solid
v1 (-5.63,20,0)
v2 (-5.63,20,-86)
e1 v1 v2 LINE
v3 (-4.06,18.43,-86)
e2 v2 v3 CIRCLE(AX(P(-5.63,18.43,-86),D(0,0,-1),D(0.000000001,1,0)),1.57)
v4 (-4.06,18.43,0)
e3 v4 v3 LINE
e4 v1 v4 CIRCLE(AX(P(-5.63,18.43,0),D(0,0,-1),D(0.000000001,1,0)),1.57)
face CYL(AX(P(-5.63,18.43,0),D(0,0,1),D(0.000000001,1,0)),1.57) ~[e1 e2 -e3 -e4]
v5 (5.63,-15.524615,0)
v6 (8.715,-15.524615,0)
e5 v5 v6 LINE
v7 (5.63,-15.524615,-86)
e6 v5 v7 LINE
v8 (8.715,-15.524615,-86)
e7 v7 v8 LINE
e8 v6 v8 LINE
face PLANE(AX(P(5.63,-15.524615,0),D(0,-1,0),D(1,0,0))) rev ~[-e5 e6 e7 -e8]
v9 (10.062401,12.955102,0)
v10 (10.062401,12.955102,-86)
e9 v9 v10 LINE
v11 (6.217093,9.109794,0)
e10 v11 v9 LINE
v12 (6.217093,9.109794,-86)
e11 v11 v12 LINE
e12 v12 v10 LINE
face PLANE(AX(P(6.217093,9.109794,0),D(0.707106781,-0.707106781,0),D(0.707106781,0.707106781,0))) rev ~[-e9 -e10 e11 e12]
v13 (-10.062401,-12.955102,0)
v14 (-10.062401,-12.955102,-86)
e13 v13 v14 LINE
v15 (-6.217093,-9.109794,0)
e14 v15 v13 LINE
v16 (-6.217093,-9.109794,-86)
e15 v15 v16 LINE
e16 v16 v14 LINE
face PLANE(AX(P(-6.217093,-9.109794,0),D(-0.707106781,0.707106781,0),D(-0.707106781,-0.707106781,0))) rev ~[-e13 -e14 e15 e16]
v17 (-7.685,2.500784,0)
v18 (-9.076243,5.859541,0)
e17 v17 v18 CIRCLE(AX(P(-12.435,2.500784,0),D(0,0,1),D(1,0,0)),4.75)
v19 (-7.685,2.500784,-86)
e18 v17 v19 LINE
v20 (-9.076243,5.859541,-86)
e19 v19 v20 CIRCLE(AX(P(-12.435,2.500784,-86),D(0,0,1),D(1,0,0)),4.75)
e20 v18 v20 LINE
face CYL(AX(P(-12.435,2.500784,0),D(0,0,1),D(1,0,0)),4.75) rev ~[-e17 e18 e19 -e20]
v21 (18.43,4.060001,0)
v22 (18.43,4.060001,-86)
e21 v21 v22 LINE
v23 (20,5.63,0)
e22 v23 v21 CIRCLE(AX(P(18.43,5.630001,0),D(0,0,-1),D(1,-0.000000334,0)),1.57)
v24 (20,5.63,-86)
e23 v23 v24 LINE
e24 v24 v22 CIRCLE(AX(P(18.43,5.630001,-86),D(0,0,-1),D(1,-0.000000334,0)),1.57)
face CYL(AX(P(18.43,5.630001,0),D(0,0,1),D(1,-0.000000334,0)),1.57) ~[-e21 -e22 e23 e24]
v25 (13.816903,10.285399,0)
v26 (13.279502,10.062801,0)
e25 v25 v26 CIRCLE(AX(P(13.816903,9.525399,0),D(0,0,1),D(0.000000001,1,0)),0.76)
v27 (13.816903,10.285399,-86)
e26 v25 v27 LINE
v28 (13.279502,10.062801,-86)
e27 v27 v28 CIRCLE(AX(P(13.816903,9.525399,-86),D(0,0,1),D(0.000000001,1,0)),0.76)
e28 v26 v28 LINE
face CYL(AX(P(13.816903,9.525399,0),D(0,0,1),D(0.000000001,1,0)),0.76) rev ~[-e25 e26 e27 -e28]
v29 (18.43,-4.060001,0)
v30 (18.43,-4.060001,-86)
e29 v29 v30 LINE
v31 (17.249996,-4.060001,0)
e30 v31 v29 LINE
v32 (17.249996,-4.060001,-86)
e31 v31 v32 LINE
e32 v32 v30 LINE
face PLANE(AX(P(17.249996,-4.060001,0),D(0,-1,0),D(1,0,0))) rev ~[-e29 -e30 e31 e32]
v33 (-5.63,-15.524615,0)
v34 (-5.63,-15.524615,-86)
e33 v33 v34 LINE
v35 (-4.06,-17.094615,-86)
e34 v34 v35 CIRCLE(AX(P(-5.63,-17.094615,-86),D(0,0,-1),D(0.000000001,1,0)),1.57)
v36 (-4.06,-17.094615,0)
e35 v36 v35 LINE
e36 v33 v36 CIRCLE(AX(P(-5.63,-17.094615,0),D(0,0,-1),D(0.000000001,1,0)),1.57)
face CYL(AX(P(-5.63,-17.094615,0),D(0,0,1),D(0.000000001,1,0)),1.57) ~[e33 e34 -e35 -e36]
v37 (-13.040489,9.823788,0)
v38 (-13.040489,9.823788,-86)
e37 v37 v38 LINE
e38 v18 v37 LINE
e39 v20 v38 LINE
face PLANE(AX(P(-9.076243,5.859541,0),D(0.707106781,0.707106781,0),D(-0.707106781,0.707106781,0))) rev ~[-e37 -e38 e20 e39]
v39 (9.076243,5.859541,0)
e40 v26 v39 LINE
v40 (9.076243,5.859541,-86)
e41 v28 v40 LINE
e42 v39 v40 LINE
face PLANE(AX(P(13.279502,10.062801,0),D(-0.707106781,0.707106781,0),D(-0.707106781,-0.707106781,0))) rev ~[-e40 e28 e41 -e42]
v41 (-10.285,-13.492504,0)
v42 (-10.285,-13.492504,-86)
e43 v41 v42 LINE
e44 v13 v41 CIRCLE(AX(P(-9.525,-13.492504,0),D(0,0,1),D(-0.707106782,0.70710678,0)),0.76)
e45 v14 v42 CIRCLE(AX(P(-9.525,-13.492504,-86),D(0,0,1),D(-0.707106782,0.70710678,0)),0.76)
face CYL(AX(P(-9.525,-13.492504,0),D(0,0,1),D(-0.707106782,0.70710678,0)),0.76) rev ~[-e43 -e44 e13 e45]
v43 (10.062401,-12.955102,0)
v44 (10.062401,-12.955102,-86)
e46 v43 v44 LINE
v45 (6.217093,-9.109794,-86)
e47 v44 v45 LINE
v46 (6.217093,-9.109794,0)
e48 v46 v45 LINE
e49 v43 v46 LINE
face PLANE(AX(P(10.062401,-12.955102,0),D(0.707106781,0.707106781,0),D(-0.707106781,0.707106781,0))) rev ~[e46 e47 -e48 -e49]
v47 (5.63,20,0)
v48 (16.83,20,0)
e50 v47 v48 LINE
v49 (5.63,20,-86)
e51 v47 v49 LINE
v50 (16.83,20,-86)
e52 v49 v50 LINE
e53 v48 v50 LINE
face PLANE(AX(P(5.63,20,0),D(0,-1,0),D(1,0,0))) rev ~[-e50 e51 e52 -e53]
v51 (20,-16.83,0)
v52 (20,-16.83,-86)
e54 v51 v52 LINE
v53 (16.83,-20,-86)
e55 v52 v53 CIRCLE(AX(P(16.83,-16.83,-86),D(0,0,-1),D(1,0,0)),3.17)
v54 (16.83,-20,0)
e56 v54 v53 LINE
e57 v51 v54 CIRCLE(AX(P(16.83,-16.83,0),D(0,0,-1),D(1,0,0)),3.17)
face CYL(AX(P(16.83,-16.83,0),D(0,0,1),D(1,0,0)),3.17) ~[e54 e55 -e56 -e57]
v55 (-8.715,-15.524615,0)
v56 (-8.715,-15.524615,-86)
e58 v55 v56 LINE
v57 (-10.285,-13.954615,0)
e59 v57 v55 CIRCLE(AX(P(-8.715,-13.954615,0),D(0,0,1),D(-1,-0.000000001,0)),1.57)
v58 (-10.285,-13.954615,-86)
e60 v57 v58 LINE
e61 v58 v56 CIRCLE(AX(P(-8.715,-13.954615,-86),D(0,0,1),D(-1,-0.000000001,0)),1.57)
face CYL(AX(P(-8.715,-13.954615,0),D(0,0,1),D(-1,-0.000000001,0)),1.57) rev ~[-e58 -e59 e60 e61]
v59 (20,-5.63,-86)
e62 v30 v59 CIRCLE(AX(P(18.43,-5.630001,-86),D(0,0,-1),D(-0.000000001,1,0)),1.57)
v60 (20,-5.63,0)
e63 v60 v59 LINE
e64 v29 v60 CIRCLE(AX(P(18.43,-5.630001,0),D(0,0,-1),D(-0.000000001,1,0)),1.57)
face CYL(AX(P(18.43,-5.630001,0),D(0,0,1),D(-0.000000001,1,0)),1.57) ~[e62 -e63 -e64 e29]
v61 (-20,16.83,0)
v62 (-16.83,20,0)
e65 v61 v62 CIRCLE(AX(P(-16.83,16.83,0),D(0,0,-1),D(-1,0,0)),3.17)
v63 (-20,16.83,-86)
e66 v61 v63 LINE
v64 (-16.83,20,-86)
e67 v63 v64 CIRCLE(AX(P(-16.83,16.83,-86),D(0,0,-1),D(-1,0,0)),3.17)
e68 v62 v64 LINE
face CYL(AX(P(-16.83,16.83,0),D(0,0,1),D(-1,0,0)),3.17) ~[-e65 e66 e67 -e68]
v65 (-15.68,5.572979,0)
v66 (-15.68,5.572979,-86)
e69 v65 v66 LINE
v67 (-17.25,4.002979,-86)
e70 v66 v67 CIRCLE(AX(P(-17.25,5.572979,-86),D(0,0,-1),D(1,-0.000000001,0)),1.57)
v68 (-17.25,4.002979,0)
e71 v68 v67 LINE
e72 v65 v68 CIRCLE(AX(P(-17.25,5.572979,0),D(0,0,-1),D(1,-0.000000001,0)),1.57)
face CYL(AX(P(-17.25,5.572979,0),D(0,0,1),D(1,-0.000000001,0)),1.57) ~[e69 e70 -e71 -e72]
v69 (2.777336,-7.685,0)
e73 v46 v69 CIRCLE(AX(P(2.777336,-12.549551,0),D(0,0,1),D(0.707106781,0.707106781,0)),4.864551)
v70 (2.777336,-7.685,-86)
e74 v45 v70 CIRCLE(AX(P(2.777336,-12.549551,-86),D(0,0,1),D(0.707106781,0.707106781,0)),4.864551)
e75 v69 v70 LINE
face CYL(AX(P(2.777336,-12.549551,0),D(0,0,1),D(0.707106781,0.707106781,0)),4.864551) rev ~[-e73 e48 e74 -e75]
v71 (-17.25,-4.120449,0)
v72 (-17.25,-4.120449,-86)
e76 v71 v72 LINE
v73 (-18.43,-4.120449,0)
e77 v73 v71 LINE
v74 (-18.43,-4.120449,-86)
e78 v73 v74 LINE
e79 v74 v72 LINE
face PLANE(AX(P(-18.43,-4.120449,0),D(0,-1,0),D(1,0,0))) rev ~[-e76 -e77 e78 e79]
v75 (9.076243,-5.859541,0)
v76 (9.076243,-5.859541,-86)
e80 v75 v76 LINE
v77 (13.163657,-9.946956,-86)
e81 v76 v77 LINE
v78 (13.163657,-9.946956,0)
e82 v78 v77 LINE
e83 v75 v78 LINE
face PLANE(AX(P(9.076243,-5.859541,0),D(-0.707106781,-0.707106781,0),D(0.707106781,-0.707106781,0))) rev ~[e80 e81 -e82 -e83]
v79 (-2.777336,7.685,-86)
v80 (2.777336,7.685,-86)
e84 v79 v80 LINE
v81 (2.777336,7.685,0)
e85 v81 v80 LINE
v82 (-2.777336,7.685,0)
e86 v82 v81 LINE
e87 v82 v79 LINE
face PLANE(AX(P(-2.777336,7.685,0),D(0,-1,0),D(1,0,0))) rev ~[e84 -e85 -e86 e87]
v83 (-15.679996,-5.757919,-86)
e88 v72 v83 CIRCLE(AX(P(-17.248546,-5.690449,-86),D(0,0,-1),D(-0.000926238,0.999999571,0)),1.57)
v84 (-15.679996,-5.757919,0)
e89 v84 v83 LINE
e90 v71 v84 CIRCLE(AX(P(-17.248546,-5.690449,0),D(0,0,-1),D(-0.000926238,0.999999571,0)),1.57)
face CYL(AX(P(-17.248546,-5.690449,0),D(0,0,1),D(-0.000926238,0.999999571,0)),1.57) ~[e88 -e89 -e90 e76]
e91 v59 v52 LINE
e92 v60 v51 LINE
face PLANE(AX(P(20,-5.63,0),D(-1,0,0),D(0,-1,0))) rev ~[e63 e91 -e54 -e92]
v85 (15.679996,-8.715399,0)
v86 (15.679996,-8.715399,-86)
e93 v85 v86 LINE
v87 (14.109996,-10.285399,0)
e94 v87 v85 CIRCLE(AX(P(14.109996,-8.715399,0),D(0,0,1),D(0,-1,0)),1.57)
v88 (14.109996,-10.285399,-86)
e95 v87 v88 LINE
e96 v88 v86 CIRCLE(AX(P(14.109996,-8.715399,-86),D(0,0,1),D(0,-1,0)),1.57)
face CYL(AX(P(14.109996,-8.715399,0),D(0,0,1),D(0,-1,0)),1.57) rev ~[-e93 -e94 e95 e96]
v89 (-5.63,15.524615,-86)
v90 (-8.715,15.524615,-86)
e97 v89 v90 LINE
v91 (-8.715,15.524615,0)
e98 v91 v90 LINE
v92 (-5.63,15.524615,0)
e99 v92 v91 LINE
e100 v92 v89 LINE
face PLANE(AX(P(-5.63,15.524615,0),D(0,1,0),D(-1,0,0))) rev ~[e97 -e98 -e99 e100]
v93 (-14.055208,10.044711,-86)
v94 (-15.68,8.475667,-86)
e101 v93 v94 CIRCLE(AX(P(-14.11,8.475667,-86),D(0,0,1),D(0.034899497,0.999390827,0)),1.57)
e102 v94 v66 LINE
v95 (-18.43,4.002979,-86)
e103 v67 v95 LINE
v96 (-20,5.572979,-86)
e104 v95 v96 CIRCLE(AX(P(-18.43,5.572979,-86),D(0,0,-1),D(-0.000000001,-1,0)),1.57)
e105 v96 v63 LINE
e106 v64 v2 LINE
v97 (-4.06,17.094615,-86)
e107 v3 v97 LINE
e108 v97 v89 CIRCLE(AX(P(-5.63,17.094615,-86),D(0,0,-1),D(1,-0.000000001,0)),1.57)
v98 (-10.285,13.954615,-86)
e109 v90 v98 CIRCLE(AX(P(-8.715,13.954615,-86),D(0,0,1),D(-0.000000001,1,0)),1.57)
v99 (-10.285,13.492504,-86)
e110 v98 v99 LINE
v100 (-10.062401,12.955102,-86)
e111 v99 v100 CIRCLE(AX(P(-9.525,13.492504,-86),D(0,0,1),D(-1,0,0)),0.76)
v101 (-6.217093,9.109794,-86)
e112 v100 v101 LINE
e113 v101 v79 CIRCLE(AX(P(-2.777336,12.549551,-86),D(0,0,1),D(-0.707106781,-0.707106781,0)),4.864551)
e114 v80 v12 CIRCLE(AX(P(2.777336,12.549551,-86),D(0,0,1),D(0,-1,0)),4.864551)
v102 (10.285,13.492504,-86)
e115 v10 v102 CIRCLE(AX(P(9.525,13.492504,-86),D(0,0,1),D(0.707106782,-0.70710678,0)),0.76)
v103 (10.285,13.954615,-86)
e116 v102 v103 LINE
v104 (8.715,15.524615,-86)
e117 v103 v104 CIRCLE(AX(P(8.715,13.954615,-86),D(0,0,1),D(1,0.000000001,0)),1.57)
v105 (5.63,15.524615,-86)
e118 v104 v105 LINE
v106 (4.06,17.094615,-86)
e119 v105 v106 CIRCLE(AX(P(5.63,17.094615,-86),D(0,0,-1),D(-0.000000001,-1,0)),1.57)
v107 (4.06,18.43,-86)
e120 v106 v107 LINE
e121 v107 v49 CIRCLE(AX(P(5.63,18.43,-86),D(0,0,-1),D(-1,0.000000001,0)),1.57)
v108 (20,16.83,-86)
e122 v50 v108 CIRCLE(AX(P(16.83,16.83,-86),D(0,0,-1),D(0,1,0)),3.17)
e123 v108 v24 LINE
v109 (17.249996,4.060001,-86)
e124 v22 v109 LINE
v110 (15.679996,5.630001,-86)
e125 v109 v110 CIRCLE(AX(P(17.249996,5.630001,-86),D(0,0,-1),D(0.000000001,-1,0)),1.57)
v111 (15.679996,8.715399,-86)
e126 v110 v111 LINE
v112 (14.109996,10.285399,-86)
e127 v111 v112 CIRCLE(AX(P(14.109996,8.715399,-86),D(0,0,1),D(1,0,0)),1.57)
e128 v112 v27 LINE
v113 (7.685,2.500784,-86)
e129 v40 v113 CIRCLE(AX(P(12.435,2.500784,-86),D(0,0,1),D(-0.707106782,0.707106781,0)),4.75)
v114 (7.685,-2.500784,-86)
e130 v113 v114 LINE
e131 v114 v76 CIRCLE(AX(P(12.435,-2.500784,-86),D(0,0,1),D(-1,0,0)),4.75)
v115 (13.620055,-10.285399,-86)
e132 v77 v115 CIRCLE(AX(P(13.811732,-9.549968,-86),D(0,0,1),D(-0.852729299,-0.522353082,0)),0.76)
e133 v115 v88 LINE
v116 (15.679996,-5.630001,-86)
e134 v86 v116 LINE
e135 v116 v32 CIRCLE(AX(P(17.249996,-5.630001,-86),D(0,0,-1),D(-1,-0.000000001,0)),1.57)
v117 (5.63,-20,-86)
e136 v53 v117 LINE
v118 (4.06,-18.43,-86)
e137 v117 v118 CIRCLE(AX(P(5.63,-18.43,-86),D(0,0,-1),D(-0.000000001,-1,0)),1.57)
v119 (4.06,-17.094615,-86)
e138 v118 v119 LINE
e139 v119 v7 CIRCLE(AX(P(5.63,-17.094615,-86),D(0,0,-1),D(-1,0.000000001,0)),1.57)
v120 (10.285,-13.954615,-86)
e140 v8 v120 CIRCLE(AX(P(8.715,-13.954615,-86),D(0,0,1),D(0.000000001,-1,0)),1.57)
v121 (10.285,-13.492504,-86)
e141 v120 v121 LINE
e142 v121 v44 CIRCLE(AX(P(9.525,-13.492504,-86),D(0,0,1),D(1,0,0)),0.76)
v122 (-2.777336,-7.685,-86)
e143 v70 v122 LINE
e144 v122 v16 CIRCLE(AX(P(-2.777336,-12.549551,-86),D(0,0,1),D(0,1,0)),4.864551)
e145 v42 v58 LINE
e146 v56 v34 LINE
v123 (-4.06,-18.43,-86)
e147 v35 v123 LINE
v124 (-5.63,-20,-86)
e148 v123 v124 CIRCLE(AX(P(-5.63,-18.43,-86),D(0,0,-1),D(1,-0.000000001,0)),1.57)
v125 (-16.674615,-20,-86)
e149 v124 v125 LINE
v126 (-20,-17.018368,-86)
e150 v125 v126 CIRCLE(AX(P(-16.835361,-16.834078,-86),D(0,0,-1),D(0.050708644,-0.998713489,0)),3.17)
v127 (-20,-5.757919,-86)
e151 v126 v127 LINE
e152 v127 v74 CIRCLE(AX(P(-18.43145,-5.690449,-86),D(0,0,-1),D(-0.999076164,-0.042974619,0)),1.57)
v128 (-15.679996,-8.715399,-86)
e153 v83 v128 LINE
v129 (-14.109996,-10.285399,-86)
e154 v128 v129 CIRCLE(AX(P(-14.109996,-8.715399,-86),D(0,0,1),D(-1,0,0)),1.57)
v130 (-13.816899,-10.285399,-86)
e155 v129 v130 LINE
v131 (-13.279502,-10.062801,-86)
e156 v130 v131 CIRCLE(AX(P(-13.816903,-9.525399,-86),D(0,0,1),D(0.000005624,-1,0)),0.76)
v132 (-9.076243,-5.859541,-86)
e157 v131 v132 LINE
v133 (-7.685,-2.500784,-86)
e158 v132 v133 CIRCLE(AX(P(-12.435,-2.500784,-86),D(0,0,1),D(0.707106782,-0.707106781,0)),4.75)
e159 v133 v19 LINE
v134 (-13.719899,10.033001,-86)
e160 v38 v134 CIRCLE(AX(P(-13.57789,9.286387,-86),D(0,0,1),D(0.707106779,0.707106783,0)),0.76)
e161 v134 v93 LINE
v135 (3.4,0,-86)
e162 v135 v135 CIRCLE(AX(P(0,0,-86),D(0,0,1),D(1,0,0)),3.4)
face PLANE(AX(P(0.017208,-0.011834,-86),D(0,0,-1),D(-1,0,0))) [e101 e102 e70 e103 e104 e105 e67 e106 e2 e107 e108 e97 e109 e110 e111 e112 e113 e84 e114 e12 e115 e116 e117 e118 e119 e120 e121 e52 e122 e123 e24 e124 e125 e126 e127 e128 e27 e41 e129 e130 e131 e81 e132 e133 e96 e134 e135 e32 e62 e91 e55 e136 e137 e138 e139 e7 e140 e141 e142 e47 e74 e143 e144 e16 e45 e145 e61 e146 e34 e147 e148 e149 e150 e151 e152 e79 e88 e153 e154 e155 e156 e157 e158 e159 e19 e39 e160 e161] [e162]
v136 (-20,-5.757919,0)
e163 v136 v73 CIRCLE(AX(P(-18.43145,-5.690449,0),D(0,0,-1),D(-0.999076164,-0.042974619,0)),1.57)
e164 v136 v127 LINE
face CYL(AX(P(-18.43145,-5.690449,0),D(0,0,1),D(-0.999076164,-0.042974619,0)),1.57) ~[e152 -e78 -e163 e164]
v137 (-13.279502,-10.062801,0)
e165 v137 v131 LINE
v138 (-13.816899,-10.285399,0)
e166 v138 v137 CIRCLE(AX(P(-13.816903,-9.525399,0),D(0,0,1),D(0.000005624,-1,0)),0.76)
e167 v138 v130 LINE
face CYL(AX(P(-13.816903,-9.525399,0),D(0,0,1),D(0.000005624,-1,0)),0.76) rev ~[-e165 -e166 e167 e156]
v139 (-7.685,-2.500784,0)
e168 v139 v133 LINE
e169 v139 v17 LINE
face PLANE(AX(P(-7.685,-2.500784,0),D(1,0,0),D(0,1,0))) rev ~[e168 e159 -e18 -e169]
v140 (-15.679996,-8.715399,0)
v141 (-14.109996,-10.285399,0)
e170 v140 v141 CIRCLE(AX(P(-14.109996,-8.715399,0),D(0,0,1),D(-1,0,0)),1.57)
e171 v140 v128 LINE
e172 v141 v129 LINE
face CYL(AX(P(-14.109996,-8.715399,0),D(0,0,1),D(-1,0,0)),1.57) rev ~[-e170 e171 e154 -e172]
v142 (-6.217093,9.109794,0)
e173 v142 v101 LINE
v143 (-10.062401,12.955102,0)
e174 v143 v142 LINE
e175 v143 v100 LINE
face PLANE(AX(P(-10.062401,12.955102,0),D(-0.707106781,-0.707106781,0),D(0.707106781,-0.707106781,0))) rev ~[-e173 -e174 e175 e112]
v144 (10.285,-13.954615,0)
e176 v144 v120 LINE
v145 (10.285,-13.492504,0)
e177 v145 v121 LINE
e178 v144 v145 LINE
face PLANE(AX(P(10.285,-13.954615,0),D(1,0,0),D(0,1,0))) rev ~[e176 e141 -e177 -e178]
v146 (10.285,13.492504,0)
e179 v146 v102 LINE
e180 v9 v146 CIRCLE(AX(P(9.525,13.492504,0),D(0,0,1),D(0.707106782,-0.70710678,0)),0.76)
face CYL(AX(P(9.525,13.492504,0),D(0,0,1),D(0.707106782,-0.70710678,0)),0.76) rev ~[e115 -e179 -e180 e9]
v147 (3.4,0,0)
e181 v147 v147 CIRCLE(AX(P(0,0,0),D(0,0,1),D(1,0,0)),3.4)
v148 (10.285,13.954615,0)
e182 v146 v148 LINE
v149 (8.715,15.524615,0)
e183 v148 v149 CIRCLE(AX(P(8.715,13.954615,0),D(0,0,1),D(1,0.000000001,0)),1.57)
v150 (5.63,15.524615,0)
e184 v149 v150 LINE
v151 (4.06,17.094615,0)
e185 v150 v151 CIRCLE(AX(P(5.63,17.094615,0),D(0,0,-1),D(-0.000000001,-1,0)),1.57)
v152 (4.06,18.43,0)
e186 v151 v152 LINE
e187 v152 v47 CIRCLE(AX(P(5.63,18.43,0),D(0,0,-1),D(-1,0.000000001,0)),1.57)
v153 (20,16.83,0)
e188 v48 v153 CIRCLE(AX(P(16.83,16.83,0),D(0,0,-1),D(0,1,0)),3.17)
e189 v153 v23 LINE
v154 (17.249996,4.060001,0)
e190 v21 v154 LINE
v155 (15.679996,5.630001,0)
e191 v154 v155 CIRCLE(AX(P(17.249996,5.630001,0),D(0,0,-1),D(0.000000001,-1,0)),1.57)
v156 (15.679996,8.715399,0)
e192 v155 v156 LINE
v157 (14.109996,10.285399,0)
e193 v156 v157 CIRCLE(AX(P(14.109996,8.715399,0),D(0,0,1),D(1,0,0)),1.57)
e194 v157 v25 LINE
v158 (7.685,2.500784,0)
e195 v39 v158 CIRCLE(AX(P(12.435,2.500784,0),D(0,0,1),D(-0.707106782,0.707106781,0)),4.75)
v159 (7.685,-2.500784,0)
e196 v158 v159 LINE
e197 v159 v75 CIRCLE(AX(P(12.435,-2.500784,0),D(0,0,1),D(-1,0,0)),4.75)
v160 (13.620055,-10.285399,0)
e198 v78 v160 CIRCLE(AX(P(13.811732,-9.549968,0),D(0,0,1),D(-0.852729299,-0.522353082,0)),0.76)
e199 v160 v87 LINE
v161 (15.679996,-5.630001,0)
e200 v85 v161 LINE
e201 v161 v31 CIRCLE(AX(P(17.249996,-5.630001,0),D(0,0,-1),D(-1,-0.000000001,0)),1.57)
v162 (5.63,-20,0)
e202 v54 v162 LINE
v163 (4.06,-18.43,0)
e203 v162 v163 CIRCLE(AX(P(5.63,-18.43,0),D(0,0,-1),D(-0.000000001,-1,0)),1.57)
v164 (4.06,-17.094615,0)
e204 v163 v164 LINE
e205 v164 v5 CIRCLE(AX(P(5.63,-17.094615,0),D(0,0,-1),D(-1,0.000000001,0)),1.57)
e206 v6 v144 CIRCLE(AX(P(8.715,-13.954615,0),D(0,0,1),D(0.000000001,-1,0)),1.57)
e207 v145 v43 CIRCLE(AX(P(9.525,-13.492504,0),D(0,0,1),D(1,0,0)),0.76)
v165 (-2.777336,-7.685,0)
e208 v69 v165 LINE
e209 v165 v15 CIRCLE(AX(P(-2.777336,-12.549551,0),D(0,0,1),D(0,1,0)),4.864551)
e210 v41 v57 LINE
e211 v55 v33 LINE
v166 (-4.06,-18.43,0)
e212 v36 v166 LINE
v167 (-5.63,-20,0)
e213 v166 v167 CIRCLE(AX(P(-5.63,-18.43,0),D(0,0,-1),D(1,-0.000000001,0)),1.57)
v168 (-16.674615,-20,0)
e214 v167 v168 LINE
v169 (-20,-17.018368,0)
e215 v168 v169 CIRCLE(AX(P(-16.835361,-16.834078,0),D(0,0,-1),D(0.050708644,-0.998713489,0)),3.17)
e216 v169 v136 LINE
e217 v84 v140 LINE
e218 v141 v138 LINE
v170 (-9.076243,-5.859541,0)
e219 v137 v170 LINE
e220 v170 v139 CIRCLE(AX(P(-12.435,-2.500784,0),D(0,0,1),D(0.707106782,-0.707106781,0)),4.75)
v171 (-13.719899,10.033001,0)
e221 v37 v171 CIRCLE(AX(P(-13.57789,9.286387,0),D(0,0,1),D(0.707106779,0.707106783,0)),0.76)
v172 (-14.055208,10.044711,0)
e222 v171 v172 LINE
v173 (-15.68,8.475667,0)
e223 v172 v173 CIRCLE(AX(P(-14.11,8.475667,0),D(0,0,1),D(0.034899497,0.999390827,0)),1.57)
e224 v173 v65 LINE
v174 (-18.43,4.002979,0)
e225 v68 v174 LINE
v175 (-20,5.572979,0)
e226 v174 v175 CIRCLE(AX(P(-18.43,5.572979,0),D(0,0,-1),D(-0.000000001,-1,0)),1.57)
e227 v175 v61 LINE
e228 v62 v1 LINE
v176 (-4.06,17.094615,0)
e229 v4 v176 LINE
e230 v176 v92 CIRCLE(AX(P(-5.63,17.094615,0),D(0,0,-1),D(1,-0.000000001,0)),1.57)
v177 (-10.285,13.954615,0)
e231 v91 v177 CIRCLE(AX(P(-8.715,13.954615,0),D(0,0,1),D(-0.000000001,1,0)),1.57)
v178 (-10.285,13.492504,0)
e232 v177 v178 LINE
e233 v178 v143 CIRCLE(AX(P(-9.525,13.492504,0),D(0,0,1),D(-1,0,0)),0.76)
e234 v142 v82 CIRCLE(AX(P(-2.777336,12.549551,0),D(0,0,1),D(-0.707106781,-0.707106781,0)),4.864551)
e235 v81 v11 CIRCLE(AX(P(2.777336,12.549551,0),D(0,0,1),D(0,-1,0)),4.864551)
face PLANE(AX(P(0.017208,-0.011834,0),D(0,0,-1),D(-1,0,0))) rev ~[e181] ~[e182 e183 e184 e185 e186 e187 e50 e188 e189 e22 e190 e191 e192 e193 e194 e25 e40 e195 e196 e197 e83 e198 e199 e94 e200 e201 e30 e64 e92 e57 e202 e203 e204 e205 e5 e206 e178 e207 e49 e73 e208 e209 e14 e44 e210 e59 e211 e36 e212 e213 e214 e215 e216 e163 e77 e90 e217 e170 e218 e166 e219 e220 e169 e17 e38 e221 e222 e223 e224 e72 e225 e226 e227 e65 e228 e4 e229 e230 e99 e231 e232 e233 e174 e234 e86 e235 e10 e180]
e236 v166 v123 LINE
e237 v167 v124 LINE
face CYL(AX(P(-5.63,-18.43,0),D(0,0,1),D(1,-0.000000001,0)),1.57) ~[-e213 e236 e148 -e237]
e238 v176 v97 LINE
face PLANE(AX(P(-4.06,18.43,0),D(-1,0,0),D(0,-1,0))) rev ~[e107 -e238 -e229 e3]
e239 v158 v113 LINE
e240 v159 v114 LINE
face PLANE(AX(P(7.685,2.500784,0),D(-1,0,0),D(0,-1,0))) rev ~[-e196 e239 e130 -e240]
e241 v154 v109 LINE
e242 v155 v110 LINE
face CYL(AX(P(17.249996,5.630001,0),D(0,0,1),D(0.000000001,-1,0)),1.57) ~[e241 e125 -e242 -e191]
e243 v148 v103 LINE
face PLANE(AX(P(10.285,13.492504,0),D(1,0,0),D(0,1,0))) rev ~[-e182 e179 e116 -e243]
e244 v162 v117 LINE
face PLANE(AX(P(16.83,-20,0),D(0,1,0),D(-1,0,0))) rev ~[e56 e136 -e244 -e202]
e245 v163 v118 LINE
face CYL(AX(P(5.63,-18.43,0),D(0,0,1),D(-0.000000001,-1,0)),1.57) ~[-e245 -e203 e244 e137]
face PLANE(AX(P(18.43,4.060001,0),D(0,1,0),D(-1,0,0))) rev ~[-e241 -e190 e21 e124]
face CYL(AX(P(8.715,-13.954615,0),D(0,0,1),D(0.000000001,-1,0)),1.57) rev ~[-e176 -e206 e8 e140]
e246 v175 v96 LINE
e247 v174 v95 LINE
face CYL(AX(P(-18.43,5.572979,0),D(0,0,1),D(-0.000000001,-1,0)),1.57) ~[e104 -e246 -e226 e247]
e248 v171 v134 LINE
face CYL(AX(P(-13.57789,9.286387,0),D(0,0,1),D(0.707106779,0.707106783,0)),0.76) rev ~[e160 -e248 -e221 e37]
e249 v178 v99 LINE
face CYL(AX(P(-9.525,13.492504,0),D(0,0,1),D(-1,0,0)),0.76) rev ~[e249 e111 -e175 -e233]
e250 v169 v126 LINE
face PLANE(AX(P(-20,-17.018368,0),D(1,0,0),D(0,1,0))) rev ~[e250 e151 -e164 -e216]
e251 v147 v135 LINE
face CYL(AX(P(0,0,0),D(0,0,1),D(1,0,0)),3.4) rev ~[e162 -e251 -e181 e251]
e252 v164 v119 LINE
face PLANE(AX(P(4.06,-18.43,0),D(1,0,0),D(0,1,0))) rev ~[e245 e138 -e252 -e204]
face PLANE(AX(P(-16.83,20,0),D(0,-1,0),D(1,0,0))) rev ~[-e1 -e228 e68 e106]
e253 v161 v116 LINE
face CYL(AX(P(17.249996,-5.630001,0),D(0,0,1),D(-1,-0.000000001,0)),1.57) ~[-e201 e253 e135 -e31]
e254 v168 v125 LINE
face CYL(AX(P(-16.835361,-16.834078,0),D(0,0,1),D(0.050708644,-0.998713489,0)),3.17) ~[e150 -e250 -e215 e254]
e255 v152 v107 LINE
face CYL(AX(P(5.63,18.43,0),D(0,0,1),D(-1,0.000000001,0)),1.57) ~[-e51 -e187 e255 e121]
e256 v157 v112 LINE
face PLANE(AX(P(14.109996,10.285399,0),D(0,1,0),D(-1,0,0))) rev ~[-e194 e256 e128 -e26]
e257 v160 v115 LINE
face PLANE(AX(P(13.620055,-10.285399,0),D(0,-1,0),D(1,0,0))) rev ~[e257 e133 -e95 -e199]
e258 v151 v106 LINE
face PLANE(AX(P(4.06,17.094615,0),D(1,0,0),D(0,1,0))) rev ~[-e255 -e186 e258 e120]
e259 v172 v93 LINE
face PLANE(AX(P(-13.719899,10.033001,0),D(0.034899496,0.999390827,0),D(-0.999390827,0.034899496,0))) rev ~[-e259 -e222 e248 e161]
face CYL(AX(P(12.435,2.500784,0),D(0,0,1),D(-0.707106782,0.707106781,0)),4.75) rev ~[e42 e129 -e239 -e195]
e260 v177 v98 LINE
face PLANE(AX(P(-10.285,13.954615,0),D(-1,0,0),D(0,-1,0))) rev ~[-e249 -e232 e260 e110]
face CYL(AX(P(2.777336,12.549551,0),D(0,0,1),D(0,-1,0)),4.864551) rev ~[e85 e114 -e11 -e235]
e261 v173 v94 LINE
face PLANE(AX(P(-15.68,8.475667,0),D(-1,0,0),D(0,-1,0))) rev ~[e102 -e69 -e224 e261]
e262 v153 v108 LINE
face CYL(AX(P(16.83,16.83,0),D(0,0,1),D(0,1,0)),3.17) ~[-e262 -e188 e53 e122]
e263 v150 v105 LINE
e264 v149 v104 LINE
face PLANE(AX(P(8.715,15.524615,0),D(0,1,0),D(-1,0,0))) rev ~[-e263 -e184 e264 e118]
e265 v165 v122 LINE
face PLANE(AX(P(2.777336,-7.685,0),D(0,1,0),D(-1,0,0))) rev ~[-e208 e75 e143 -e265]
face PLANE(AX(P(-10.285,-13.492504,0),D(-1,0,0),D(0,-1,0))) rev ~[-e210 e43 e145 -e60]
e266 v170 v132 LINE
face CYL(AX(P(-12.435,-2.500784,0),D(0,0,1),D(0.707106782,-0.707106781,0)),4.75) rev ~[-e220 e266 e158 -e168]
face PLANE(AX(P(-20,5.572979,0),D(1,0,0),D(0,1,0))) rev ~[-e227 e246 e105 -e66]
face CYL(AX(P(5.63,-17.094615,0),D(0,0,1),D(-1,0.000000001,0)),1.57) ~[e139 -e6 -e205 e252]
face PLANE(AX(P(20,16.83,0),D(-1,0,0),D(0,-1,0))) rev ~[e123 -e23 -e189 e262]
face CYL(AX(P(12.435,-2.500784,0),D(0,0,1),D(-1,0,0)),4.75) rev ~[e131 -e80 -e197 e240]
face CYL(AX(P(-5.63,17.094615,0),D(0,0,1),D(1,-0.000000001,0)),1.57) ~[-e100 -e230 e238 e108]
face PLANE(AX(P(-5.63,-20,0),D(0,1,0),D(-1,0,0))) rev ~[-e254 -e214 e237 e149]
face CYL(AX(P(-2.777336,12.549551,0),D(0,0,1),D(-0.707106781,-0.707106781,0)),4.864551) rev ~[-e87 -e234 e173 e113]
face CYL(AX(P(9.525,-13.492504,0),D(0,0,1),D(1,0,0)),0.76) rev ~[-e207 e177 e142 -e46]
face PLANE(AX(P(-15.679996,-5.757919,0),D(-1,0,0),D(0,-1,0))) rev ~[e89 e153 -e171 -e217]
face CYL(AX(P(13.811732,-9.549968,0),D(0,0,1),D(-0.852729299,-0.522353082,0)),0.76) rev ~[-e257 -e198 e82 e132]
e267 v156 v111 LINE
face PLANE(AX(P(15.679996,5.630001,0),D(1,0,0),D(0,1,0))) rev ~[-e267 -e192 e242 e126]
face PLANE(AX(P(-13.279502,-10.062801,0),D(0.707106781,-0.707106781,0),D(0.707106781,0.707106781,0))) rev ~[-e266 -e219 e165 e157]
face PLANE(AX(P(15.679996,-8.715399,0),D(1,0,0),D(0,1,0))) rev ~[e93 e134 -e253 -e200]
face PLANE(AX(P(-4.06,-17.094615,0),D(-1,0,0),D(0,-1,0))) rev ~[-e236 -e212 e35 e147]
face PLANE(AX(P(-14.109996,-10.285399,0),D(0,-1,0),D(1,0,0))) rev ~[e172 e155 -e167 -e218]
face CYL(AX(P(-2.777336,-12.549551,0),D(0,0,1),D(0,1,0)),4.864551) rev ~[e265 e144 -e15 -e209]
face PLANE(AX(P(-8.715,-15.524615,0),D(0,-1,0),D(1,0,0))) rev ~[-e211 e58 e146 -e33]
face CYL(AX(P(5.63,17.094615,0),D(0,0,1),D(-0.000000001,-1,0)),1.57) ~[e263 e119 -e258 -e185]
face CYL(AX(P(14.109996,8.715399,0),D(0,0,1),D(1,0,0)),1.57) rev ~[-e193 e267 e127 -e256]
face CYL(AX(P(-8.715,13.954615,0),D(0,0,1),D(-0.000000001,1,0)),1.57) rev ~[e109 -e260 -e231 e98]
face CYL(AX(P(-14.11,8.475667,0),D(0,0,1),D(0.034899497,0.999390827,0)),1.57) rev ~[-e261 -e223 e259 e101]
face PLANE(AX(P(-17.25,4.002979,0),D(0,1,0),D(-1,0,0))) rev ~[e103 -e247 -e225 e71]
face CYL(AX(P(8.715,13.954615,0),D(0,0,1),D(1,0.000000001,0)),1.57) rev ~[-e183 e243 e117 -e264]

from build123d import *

# Parameters (mm, degrees)
SKETCH1_R      = 3.4
EXTRUDE1_DEPTH = 86


with BuildPart() as part:
    # Sketch1 → Extrude1 (new body)
    with BuildSketch(Plane.XY):
        with BuildLine():
            Line((-8.715, -15.524615034), (-5.63, -15.524615034))
            ThreePointArc((-5.63, -15.524615034), (-4.519842354, -15.984457388), (-4.06, -17.094615034))
            Line((-4.06, -17.094615034), (-4.06, -18.43))
            ThreePointArc((-4.06, -18.43), (-4.519842354, -19.540157646), (-5.63, -20))
            Line((-5.63, -20), (-16.674615034, -20))
            ThreePointArc((-16.674615034, -20), (-18.951578385, -19.194274381), (-20, -17.018368134))
            Line((-20, -17.018368134), (-20, -5.757918808))
            ThreePointArc((-20, -5.757918808), (-19.564709668, -4.603883664), (-18.43, -4.120449326))
            Line((-18.43, -4.120449326), (-17.25, -4.120449326))
            ThreePointArc((-17.25, -4.120449326), (-16.115287682, -4.60388249), (-15.67999625, -5.757919334))
            Line((-15.67999625, -5.757919334), (-15.67999625, -8.715399492))
            ThreePointArc((-15.67999625, -8.715399492), (-15.220153896, -9.825557139), (-14.10999625, -10.285399492))
            Line((-14.10999625, -10.285399492), (-13.816898819, -10.285399492))
            ThreePointArc((-13.816898819, -10.285399492), (-13.526061711, -10.227547119), (-13.279501941, -10.062800646))
            Line((-13.279501941, -10.062800646), (-9.076242789, -5.859541495))
            ThreePointArc((-9.076242789, -5.859541495), (-8.046572221, -4.318530588), (-7.685, -2.500784284))
            Line((-7.685, -2.500784284), (-7.685, 2.500784284))
            ThreePointArc((-7.685, 2.500784284), (-8.046572221, 4.318530588), (-9.076242789, 5.859541495))
            Line((-9.076242789, 5.859541495), (-13.040489136, 9.823787841))
            ThreePointArc((-13.040489136, 9.823787841), (-13.354224618, 10.012729352), (-13.71989919, 10.033001362))
            Line((-13.71989919, 10.033001362), (-14.05520779, 10.044710596))
            ThreePointArc((-14.05520779, 10.044710596), (-15.200613642, 9.605030484), (-15.68, 8.475666998))
            Line((-15.68, 8.475666998), (-15.68, 5.572979049))
            ThreePointArc((-15.68, 5.572979049), (-16.139842354, 4.462821403), (-17.25, 4.002979049))
            Line((-17.25, 4.002979049), (-18.43, 4.002979049))
            ThreePointArc((-18.43, 4.002979049), (-19.540157646, 4.462821403), (-20, 5.572979049))
            Line((-20, 5.572979049), (-20, 13.004526564))
            Line((-20, 13.004526564), (-20, 16.83))
            ThreePointArc((-20, 16.83), (-19.071528496, 19.071528496), (-16.83, 20))
            Line((-16.83, 20), (-5.63, 20))
            ThreePointArc((-5.63, 20), (-4.519842354, 19.540157646), (-4.06, 18.43))
            Line((-4.06, 18.43), (-4.06, 17.094615034))
            ThreePointArc((-4.06, 17.094615034), (-4.519842354, 15.984457388), (-5.63, 15.524615034))
            Line((-5.63, 15.524615034), (-8.715, 15.524615034))
            ThreePointArc((-8.715, 15.524615034), (-9.825157646, 15.06477268), (-10.285, 13.954615034))
            Line((-10.285, 13.954615034), (-10.285, 13.492503602))
            ThreePointArc((-10.285, 13.492503602), (-10.227148445, 13.201664194), (-10.062401154, 12.955102448))
            Line((-10.062401154, 12.955102448), (-6.217092793, 9.109794088))
            ThreePointArc((-6.217092793, 9.109794088), (-4.63891877, 8.055291919), (-2.777335583, 7.685))
            Line((-2.777335583, 7.685), (2.777335583, 7.685))
            ThreePointArc((2.777335583, 7.685), (4.63891877, 8.055291919), (6.217092793, 9.109794088))
            Line((6.217092793, 9.109794088), (10.062401154, 12.955102448))
            ThreePointArc((10.062401154, 12.955102448), (10.227148445, 13.201664194), (10.285, 13.492503602))
            Line((10.285, 13.492503602), (10.285, 13.954615034))
            ThreePointArc((10.285, 13.954615034), (9.825157646, 15.06477268), (8.715, 15.524615034))
            Line((8.715, 15.524615034), (5.63, 15.524615034))
            ThreePointArc((5.63, 15.524615034), (4.519842354, 15.984457388), (4.06, 17.094615034))
            Line((4.06, 17.094615034), (4.06, 18.43))
            ThreePointArc((4.06, 18.43), (4.519842354, 19.540157646), (5.63, 20))
            Line((5.63, 20), (12.979635074, 20))
            Line((12.979635074, 20), (16.83, 20))
            ThreePointArc((16.83, 20), (19.071528496, 19.071528496), (20, 16.83))
            Line((20, 16.83), (20, 13.001098436))
            Line((20, 13.001098436), (20, 5.63))
            ThreePointArc((20, 5.63), (19.540157461, 4.519842693), (18.43, 4.060000526))
            Line((18.43, 4.060000526), (17.24999625, 4.060000526))
            ThreePointArc((17.24999625, 4.060000526), (16.139838603, 4.519842879), (15.67999625, 5.630000526))
            Line((15.67999625, 5.630000526), (15.67999625, 8.715399492))
            ThreePointArc((15.67999625, 8.715399492), (15.220153896, 9.825557139), (14.10999625, 10.285399492))
            Line((14.10999625, 10.285399492), (13.816903094, 10.285399492))
            ThreePointArc((13.816903094, 10.285399492), (13.526063686, 10.227547937), (13.279501941, 10.062800646))
            Line((13.279501941, 10.062800646), (9.076242789, 5.859541495))
            ThreePointArc((9.076242789, 5.859541495), (8.046572221, 4.318530588), (7.685, 2.500784284))
            Line((7.685, 2.500784284), (7.685, -2.500784284))
            ThreePointArc((7.685, -2.500784284), (8.046572221, -4.318530588), (9.076242789, -5.859541495))
            Line((9.076242789, -5.859541495), (13.163657296, -9.946956002))
            ThreePointArc((13.163657296, -9.946956002), (13.35903797, -10.160433474), (13.6200547, -10.285399492))
            Line((13.6200547, -10.285399492), (14.10999625, -10.285399492))
            ThreePointArc((14.10999625, -10.285399492), (15.220153896, -9.825557139), (15.67999625, -8.715399492))
            Line((15.67999625, -8.715399492), (15.67999625, -5.630000526))
            ThreePointArc((15.67999625, -5.630000526), (16.139838603, -4.519842879), (17.24999625, -4.060000526))
            Line((17.24999625, -4.060000526), (18.43, -4.060000526))
            ThreePointArc((18.43, -4.060000526), (19.540157461, -4.519842693), (20, -5.63))
            Line((20, -5.63), (20, -16.83))
            ThreePointArc((20, -16.83), (19.071528496, -19.071528496), (16.83, -20))
            Line((16.83, -20), (13, -20))
            Line((13, -20), (5.63, -20))
            ThreePointArc((5.63, -20), (4.519842354, -19.540157646), (4.06, -18.43))
            Line((4.06, -18.43), (4.06, -17.094615034))
            ThreePointArc((4.06, -17.094615034), (4.519842354, -15.984457388), (5.63, -15.524615034))
            Line((5.63, -15.524615034), (8.715, -15.524615034))
            ThreePointArc((8.715, -15.524615034), (9.825157646, -15.06477268), (10.285, -13.954615034))
            Line((10.285, -13.954615034), (10.285, -13.492503602))
            ThreePointArc((10.285, -13.492503602), (10.227148445, -13.201664194), (10.062401154, -12.955102448))
            Line((10.062401154, -12.955102448), (6.217092793, -9.109794088))
            ThreePointArc((6.217092793, -9.109794088), (4.63891877, -8.055291919), (2.777335583, -7.685))
            Line((2.777335583, -7.685), (-2.777335583, -7.685))
            ThreePointArc((-2.777335583, -7.685), (-4.63891877, -8.055291919), (-6.217092793, -9.109794088))
            Line((-6.217092793, -9.109794088), (-10.062401154, -12.955102448))
            ThreePointArc((-10.062401154, -12.955102448), (-10.227148445, -13.201664194), (-10.285, -13.492503602))
            Line((-10.285, -13.492503602), (-10.285, -13.954615034))
            ThreePointArc((-10.285, -13.954615034), (-9.825157646, -15.06477268), (-8.715, -15.524615034))
        make_face()
        Circle(SKETCH1_R, mode=Mode.SUBTRACT)
    extrude(amount=-EXTRUDE1_DEPTH)


solid = part.part
